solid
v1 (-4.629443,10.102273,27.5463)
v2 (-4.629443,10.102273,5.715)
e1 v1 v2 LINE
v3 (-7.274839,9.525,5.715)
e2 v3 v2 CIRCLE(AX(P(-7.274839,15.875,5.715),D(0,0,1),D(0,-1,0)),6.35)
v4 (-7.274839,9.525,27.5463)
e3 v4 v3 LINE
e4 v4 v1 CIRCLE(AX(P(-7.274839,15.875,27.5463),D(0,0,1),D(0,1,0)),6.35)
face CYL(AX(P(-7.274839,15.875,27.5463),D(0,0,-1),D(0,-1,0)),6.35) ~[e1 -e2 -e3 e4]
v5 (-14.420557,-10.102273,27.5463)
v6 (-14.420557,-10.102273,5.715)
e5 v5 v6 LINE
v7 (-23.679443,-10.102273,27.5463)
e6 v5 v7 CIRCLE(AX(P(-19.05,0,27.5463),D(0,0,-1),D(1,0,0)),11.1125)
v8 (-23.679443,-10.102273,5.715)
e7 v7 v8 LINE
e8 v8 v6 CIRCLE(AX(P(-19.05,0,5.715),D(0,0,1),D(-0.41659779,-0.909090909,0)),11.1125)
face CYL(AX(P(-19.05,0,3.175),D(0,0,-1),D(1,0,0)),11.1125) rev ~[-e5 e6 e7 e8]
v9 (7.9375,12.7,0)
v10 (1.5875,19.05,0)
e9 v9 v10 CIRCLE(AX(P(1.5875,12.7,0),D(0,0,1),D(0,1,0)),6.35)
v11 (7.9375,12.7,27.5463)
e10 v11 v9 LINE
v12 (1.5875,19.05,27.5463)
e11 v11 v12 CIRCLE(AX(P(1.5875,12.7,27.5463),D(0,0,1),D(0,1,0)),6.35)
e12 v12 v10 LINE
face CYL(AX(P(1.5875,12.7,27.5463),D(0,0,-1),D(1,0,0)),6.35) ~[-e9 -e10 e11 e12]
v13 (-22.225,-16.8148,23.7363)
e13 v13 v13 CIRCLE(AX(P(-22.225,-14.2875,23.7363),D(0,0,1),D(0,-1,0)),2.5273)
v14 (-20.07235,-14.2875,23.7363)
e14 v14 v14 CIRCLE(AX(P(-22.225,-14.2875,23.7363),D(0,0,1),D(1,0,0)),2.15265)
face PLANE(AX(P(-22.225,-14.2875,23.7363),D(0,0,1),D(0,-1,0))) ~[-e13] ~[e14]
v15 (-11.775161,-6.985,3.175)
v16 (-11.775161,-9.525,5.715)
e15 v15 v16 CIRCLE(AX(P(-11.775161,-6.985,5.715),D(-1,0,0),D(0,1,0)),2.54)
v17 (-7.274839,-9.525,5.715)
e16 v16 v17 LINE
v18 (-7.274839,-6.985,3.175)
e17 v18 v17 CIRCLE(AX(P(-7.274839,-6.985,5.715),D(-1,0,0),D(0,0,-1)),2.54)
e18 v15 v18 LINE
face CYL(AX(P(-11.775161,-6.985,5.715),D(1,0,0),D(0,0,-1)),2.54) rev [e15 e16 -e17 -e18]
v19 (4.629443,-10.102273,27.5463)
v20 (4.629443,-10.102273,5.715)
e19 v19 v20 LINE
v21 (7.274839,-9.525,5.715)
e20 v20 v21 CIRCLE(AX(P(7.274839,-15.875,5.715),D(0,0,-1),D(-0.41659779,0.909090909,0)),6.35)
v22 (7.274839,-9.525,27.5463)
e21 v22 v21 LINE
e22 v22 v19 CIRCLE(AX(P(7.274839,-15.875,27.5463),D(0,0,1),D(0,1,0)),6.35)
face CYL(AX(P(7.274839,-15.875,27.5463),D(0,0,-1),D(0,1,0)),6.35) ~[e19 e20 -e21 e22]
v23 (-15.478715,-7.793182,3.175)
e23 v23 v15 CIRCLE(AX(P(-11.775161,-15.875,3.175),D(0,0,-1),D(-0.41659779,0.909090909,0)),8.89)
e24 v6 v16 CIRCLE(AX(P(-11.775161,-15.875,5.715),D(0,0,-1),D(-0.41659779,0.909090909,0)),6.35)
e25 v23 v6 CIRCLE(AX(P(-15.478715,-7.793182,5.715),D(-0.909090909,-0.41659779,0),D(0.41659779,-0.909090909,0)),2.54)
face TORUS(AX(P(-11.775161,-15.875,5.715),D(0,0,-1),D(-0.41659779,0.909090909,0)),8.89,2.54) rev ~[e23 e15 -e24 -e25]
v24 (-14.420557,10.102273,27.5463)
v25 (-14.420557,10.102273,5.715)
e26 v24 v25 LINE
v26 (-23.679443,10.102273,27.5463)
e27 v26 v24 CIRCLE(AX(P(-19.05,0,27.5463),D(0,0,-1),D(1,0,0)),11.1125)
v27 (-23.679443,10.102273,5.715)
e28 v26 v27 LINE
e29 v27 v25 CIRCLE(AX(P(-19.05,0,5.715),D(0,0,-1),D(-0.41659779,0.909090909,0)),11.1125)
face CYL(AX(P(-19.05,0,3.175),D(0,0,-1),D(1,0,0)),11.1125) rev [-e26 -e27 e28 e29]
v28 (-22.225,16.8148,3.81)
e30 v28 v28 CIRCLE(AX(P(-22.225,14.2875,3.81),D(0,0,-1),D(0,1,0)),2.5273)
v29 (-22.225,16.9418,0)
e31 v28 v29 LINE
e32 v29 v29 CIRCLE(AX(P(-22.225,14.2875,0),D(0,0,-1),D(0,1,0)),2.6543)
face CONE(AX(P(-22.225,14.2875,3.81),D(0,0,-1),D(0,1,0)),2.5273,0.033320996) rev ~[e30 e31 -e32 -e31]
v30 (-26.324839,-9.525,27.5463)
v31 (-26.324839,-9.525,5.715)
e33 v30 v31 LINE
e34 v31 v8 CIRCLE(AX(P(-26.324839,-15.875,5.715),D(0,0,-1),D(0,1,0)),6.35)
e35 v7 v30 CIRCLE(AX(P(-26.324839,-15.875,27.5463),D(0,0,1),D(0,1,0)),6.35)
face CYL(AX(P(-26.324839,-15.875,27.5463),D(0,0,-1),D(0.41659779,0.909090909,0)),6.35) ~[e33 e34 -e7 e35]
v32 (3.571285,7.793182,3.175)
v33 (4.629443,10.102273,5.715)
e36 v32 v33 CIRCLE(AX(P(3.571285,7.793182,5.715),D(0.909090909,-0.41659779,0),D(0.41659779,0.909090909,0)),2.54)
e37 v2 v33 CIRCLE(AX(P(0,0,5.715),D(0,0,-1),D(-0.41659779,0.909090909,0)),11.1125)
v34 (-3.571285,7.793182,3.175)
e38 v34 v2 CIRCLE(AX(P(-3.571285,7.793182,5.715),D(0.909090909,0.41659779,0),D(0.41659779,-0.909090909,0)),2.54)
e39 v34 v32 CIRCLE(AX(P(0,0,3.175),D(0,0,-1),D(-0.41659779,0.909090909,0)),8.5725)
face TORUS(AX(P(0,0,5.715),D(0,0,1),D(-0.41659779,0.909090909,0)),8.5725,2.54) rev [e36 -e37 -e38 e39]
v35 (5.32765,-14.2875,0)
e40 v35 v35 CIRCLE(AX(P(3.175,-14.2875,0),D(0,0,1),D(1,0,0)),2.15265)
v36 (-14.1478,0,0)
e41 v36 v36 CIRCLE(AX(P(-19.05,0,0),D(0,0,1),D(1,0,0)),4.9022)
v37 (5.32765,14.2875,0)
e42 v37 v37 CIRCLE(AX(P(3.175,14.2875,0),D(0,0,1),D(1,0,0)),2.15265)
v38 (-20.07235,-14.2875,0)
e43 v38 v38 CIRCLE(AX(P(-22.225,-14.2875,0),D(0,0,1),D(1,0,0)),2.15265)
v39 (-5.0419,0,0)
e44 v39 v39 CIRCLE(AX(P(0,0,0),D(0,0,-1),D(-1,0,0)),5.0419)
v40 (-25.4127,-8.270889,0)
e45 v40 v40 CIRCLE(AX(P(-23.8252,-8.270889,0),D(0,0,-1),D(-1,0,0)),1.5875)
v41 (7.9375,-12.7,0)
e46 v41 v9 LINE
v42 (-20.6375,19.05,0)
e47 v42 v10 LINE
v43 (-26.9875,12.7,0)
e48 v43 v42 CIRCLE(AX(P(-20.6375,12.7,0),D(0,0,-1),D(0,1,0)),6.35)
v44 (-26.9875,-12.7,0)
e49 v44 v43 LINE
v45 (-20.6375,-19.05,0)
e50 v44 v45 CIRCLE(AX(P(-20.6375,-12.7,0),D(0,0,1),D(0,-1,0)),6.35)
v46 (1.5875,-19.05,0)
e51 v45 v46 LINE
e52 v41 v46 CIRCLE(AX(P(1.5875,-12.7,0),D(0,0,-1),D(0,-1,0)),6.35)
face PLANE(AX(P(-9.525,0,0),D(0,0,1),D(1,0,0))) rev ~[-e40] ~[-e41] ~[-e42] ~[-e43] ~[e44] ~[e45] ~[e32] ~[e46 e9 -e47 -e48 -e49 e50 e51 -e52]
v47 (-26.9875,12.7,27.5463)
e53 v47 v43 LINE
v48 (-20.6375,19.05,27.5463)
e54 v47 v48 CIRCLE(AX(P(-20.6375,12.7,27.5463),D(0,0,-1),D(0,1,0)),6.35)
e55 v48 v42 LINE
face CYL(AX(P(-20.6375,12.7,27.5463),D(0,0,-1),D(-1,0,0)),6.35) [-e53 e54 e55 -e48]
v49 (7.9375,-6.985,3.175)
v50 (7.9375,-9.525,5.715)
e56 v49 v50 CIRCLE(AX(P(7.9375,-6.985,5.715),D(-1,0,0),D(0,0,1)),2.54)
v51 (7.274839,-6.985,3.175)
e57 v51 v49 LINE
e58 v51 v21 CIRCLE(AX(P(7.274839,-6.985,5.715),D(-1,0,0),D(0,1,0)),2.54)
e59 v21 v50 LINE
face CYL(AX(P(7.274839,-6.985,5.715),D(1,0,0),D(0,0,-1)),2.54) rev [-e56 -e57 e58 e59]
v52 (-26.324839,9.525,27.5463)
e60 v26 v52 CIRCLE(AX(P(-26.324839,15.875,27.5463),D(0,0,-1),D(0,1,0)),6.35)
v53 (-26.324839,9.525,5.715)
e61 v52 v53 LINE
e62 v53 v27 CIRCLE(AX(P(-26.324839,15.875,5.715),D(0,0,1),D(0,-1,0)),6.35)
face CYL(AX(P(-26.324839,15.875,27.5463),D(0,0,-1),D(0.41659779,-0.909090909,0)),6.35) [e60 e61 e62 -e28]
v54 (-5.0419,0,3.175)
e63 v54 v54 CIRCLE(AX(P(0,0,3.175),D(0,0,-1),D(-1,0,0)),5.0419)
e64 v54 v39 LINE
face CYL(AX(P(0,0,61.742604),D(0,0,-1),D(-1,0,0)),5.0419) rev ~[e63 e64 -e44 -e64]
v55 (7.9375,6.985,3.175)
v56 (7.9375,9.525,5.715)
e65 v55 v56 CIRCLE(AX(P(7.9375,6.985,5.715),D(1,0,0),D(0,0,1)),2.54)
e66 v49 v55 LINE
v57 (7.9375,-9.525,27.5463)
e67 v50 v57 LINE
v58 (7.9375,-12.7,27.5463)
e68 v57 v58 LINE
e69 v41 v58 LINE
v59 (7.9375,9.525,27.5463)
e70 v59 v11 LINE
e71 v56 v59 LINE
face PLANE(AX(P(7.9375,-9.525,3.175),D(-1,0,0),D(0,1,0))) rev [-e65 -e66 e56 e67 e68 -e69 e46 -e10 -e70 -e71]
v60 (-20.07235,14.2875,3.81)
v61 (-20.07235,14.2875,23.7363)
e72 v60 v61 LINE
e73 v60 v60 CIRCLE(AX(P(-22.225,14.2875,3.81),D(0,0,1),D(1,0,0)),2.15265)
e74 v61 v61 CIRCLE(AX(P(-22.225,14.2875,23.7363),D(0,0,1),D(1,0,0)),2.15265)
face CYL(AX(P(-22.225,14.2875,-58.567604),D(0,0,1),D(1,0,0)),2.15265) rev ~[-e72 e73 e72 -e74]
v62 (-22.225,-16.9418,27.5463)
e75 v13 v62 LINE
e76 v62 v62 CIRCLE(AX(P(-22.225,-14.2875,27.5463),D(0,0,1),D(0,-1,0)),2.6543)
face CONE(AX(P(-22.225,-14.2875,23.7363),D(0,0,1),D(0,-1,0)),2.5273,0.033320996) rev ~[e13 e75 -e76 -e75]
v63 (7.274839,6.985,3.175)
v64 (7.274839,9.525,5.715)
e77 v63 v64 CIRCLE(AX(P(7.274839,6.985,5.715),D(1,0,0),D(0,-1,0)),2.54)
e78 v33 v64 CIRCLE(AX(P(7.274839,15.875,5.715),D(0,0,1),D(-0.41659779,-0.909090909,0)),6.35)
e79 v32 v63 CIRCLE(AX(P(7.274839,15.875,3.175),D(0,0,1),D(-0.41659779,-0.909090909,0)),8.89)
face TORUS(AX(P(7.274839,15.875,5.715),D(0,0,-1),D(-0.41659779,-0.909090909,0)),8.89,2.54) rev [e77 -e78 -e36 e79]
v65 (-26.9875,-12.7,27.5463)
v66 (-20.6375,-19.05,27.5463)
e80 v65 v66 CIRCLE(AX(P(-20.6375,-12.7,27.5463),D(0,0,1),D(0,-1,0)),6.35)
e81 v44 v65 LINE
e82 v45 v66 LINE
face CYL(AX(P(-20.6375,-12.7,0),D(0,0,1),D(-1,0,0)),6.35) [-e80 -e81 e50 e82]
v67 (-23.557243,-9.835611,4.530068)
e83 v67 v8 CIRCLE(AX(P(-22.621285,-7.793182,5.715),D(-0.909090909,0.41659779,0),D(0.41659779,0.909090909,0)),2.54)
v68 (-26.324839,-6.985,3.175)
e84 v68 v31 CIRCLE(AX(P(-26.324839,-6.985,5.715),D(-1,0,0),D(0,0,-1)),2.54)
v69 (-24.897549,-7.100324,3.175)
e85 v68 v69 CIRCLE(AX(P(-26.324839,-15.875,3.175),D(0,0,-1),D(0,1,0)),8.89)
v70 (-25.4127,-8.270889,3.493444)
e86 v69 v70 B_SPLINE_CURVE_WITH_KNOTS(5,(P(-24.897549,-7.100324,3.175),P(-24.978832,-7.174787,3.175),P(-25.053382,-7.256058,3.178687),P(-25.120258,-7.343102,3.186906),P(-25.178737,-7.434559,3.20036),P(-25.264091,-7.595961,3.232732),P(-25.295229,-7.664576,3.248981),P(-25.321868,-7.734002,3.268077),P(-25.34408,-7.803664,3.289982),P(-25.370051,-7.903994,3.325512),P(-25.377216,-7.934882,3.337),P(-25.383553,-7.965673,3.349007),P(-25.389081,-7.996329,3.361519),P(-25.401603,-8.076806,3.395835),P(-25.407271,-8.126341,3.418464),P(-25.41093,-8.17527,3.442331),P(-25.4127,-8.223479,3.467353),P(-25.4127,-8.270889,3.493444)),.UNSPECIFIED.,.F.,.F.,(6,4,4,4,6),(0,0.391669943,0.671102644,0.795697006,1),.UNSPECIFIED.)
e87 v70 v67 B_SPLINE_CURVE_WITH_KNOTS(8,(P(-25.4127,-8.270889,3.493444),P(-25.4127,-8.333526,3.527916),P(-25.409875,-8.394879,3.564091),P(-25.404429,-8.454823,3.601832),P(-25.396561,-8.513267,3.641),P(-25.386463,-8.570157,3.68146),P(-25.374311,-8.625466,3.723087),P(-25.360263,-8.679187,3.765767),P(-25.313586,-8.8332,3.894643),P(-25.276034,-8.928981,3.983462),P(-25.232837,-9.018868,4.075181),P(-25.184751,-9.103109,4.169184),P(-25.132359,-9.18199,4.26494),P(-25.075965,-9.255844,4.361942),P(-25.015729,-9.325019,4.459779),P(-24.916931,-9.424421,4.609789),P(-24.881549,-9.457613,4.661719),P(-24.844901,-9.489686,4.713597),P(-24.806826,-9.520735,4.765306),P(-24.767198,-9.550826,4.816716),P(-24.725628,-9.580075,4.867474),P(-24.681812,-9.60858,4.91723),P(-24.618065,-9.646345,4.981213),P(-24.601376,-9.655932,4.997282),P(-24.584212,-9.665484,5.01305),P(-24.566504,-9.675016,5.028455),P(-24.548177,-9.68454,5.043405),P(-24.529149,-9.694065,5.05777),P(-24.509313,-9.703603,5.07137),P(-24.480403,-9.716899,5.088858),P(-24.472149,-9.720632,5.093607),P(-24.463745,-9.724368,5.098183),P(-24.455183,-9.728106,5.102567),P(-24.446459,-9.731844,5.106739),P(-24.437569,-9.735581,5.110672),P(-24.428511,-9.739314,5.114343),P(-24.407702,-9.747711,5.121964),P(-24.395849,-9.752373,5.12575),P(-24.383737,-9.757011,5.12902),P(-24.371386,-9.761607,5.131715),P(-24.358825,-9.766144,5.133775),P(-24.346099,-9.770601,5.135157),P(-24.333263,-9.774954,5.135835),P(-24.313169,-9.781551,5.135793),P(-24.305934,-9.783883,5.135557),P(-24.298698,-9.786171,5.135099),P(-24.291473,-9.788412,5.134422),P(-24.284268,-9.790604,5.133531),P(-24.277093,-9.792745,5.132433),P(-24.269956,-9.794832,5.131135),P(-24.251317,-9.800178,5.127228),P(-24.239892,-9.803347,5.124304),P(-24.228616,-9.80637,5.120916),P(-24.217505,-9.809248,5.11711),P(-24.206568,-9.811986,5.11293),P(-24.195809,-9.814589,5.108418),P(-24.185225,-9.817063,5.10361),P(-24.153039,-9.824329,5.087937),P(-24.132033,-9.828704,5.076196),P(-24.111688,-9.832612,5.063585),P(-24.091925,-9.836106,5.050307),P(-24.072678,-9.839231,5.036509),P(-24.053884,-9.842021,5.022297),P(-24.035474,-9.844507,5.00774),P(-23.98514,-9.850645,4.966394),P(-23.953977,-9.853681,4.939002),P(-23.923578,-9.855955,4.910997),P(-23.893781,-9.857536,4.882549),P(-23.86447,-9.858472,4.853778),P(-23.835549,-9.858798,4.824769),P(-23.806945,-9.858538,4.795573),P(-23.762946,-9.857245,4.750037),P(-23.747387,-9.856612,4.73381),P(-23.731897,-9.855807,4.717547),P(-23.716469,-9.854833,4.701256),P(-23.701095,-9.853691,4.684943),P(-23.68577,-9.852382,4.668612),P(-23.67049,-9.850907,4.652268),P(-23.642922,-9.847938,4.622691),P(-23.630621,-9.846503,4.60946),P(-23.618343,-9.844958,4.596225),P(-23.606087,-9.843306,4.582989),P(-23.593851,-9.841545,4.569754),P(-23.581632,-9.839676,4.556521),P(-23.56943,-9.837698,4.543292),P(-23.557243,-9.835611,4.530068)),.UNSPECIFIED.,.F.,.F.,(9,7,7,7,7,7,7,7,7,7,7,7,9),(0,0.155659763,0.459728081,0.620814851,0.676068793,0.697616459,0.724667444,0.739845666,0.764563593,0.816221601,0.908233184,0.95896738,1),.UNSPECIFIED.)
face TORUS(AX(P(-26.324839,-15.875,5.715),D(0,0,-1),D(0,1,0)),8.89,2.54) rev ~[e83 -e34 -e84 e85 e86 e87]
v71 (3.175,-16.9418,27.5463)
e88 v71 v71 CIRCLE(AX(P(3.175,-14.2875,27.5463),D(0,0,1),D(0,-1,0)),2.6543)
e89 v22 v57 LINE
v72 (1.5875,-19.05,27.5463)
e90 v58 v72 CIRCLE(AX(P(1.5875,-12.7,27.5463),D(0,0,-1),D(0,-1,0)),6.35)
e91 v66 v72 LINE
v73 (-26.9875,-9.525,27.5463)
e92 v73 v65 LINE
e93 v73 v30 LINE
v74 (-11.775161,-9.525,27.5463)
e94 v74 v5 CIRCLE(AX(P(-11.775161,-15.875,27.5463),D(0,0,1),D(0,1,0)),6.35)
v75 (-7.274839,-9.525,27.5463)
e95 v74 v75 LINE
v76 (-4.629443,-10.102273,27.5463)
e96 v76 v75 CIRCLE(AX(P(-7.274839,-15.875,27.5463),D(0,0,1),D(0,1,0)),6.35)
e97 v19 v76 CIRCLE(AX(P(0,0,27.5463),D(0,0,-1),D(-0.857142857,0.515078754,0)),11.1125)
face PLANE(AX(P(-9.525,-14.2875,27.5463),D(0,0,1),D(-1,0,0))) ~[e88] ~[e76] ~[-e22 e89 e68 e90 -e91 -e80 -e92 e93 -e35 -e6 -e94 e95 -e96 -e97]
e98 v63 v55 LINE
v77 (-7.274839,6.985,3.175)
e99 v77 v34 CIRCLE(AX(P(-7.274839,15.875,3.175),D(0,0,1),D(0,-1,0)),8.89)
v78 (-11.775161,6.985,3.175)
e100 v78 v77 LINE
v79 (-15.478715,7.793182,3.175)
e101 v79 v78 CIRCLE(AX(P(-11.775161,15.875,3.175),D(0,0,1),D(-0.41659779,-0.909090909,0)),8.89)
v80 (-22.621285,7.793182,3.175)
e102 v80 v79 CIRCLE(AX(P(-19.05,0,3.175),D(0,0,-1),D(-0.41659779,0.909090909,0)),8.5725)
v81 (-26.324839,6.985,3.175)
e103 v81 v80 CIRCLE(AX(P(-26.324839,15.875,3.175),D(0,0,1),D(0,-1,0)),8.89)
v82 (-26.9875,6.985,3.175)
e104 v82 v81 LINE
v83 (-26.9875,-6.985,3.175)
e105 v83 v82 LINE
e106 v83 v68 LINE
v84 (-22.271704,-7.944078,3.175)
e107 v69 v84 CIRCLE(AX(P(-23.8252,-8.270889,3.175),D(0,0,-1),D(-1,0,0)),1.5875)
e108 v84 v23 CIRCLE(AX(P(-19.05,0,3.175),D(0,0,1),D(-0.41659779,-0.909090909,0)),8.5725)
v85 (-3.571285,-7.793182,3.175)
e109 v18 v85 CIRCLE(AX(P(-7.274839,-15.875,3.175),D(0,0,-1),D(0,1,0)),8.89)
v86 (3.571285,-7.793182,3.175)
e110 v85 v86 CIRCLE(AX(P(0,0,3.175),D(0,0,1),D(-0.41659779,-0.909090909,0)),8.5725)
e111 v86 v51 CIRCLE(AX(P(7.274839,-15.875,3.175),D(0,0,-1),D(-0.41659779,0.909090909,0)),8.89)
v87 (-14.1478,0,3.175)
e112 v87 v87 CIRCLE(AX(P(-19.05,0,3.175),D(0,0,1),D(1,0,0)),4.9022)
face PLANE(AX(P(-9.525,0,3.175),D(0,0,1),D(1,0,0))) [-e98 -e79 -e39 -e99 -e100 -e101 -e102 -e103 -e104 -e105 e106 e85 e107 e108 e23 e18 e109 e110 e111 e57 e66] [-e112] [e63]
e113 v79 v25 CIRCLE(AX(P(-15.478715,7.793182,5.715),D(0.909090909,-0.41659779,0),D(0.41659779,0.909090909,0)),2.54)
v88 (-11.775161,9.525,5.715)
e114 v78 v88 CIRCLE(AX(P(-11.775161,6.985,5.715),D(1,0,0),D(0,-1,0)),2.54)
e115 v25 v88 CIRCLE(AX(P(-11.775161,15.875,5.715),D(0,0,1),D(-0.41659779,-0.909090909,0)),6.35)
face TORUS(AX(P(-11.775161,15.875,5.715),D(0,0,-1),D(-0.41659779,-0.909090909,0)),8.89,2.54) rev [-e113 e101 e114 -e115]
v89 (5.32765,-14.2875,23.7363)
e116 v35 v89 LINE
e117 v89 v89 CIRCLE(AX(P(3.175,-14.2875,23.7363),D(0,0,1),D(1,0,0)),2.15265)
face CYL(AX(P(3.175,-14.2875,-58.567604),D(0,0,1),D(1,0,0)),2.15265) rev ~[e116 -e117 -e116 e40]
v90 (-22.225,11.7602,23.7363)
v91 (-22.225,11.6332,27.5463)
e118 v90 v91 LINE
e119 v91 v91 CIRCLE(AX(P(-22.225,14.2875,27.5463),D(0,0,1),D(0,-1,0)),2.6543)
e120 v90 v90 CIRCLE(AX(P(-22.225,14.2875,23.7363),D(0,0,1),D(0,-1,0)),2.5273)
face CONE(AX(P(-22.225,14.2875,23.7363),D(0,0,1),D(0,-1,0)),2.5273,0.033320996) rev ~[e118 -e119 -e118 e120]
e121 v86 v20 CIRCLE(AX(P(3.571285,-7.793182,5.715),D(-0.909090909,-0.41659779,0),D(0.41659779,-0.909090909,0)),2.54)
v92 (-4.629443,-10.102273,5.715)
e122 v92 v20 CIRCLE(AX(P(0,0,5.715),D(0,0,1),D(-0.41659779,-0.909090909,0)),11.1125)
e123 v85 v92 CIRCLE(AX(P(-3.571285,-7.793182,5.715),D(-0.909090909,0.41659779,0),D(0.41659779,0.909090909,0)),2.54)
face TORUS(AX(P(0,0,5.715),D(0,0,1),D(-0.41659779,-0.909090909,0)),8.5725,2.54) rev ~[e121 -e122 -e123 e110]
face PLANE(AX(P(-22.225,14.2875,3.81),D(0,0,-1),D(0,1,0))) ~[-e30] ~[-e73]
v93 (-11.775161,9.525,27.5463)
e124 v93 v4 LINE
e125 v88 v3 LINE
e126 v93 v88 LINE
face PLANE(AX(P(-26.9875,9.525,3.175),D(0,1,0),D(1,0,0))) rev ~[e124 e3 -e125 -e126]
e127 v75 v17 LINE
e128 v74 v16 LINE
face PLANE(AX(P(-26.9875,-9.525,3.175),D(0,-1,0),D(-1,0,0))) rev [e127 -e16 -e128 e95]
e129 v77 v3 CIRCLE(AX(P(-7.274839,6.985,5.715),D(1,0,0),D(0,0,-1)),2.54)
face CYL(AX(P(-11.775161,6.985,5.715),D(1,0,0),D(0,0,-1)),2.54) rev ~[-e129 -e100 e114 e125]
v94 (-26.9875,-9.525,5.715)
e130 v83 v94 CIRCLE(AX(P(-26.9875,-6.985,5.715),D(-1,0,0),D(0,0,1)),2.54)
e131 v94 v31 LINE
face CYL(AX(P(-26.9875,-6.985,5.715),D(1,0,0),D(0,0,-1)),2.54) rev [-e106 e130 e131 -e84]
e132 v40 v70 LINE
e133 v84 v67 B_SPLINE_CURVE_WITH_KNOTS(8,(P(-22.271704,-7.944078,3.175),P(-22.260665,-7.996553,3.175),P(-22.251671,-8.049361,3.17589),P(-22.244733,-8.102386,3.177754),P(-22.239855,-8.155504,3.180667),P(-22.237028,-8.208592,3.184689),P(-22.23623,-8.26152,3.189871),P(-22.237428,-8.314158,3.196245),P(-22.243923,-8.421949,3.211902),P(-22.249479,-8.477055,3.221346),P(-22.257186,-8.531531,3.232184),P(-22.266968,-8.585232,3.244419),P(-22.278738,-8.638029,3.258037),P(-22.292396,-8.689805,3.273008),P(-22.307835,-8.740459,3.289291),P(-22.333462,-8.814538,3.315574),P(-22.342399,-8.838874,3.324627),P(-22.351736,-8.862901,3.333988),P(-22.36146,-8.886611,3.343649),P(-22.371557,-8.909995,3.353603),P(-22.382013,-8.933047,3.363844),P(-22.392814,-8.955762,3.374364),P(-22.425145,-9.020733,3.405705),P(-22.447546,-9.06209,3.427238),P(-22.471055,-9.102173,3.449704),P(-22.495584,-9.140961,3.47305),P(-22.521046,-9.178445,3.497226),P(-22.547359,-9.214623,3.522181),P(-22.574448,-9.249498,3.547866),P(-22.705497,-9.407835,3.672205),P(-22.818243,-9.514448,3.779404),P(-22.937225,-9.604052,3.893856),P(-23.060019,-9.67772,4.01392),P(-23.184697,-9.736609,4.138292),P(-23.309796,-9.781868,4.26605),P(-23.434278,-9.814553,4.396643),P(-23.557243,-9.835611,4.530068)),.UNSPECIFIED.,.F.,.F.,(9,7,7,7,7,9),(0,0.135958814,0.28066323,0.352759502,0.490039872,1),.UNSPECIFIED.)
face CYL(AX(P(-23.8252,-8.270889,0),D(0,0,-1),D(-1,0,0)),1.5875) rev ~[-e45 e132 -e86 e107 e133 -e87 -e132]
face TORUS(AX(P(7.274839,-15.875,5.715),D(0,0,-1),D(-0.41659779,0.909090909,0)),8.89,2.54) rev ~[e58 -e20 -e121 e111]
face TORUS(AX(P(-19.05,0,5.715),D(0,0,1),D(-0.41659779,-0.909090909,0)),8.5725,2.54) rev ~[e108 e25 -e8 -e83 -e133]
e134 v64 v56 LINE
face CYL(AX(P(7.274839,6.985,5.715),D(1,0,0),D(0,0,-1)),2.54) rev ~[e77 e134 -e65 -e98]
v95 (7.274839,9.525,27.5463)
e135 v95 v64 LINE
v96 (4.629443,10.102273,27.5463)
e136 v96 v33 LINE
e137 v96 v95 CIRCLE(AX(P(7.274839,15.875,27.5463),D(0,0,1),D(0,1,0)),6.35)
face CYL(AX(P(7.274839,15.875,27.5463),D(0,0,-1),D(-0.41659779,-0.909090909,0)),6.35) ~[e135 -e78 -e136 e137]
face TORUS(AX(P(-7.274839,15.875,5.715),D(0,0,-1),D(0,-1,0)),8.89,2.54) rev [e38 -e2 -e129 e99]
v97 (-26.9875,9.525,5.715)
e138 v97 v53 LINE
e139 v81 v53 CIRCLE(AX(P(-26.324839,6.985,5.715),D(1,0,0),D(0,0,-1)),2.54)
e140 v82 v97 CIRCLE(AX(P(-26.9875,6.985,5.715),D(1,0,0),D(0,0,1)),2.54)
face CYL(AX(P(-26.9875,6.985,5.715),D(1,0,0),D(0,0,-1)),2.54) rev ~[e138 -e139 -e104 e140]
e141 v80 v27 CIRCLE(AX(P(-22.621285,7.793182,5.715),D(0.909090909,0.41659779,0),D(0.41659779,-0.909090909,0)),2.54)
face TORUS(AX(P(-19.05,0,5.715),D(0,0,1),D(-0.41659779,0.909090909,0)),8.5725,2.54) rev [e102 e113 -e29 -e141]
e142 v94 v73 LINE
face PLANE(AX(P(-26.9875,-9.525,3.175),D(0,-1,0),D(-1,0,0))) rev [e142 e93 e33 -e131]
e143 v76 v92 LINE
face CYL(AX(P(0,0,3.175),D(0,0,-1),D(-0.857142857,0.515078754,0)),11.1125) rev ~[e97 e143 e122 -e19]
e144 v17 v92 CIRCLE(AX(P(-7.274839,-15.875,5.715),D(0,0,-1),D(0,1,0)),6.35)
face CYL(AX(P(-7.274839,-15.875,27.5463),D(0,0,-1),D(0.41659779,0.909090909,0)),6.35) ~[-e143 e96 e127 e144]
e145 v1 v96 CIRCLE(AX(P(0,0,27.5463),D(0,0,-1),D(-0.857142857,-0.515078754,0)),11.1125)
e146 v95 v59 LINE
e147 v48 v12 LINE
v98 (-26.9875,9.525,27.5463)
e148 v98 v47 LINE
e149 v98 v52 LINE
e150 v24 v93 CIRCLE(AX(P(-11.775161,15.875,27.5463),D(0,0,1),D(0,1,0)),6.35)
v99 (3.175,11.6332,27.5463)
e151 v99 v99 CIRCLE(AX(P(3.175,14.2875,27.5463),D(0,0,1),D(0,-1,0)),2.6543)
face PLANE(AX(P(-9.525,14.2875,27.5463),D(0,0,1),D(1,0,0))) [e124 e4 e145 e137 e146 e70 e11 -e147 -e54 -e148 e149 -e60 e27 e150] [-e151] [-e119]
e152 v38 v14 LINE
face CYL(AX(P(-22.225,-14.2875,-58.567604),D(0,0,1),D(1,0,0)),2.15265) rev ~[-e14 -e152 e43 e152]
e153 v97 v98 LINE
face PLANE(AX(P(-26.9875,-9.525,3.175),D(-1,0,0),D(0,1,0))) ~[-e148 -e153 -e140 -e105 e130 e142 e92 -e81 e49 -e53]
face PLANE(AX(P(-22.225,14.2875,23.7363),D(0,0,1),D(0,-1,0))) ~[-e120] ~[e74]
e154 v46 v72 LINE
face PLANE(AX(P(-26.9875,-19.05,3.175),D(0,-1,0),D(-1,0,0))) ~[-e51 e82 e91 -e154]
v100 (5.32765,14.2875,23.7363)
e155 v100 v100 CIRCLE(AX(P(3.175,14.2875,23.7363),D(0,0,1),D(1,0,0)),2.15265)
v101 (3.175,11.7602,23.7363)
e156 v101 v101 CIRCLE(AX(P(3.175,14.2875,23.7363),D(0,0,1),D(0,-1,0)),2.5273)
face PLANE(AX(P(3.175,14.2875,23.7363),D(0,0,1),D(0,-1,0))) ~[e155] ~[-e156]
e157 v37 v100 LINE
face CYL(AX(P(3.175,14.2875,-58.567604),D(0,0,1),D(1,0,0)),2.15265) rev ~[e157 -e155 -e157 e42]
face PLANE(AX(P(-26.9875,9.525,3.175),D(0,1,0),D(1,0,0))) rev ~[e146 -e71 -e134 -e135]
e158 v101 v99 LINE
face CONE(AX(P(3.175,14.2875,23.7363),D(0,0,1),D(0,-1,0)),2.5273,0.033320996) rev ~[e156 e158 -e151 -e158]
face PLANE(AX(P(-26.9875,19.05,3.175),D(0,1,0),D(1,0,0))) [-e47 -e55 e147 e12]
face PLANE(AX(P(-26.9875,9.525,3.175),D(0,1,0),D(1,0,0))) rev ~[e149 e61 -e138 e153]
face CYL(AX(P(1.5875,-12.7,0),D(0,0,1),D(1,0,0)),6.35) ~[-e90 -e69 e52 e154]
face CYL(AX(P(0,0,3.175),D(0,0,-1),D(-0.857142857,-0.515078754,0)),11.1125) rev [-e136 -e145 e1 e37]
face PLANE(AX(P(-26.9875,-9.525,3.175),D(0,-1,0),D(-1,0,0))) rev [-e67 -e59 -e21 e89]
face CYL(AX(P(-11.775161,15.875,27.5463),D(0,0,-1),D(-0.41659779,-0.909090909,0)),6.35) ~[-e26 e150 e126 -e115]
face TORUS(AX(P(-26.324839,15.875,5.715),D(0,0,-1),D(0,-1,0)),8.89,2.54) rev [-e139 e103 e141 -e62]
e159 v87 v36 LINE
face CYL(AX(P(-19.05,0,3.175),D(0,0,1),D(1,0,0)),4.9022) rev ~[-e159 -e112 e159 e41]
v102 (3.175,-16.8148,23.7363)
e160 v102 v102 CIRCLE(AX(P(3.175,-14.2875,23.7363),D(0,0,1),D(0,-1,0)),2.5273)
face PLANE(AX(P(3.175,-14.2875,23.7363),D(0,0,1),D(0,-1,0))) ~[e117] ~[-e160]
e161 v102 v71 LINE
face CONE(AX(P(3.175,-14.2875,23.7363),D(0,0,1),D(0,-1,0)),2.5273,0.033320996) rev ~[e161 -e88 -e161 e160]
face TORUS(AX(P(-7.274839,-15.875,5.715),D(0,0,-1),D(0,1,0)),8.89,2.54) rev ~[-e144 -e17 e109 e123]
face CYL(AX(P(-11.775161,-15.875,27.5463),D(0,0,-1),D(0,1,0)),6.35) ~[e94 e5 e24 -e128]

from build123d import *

# Parameters (mm, degrees)
SKETCH1_W               = 34.925
SKETCH1_H               = 38.1
BOSS_EXTRUDE1_DEPTH     = 3.175
SKETCH2_W               = 34.925
SKETCH2_H               = 9.525
BOSS_EXTRUDE2_DEPTH     = 24.3713
CUT_EXTRUDE1_START      = -16.4338
SKETCH3_R               = 11.1125
CUT_EXTRUDE1_DEPTH      = 25.3713
FILLET1_R               = 6.35
FILLET2_R               = 2.54
SKETCH4_R               = 4.9022
CUT_EXTRUDE2_DEPTH      = 4.175
F_3_8_CLEARANCE_HOLE1_D = 10.0838
F_6_CLEARANCE_HOLE1_D   = 4.3053
HOLE1_AT_2_COUNT        = 2
HOLE1_AT_2_PITCH        = 25.4
HOLE1_AT_3_COUNT        = 2
HOLE1_AT_3_PITCH        = 28.575
HOLE1_AT_4_COUNT        = 2
HOLE1_AT_4_PITCH        = 38.232062788
CUT_EXTRUDE3_REACH      = 29.546
SKETCH11_R              = 1.5875


with BuildPart() as part:
    # Sketch1 → Boss-Extrude1 (new body)
    with BuildSketch(Plane.XY):
        with Locations((-9.525, 0)):
            Rectangle(SKETCH1_W, SKETCH1_H)
    extrude(amount=BOSS_EXTRUDE1_DEPTH)

    # Sketch2 → Boss-Extrude2 (add)
    with BuildSketch(Plane.XY.offset(3.175)):
        with Locations((-9.525, 14.2875)):
            Rectangle(SKETCH2_W, SKETCH2_H)
    boss_extrude2 = extrude(amount=BOSS_EXTRUDE2_DEPTH)

    # Sketch3 → Cut-Extrude1 (cut)
    with BuildSketch(Plane.XY.offset(19.6088).offset(CUT_EXTRUDE1_START)):
        Circle(SKETCH3_R)
        with Locations((-19.05, 0)):
            Circle(SKETCH3_R)
    cut_extrude1 = extrude(amount=CUT_EXTRUDE1_DEPTH, mode=Mode.SUBTRACT)

    # Mirror1: Boss-Extrude2, Cut-Extrude1 across plane
    add(boss_extrude2.mirror(Plane.ZX))
    add(cut_extrude1.mirror(Plane.ZX), mode=Mode.SUBTRACT)

    # Fillet1
    fillet1_edges = [part.edges().sort_by_distance(p)[0] for p in [
        (7.9375, 19.05, 13.77315),
        (-26.9875, 19.05, 13.77315),
        (5.72381265, 9.525, 15.36065),
        (-5.72381265, 9.525, 15.36065),
        (-13.32618735, 9.525, 15.36065),
        (-24.77381265, 9.525, 15.36065),
        (7.9375, -19.05, 13.77315),
        (-26.9875, -19.05, 13.77315),
        (5.72381265, -9.525, 15.36065),
        (-5.72381265, -9.525, 15.36065),
        (-13.32618735, -9.525, 15.36065),
        (-24.77381265, -9.525, 15.36065),
    ]]
    fillet(fillet1_edges, radius=FILLET1_R)

    # Fillet2
    fillet2_edges = [part.edges().sort_by_distance(p)[0] for p in [
        (7.606169458, 9.525, 3.175),
        (5.921014367, 9.670996527, 3.175),
        (0, 11.1125, 3.175),
        (-5.921014367, 9.670996527, 3.175),
        (-9.525, 9.525, 3.175),
        (-13.128985633, 9.670996527, 3.175),
        (-19.05, 11.1125, 3.175),
        (-24.971014367, 9.670996527, 3.175),
        (-26.656169458, 9.525, 3.175),
        (7.606169458, -9.525, 3.175),
        (5.921014367, -9.670996527, 3.175),
        (0, -11.1125, 3.175),
        (-5.921014367, -9.670996527, 3.175),
        (-9.525, -9.525, 3.175),
        (-13.128985633, -9.670996527, 3.175),
        (-19.05, -11.1125, 3.175),
        (-24.971014367, -9.670996527, 3.175),
        (-26.656169458, -9.525, 3.175),
    ]]
    fillet(fillet2_edges, radius=FILLET2_R)

    # Sketch4 → Cut-Extrude2 (cut, through all)
    with BuildSketch(Plane.XY.offset(3.175)):
        with Locations((-19.05, 0)):
            Circle(SKETCH4_R)
    extrude(amount=-CUT_EXTRUDE2_DEPTH, mode=Mode.SUBTRACT)

    # 3/8 Clearance Hole1 (through all)
    with Locations(Plane.XY.offset(3.175)):
        with Locations((0, 0)):
            Hole(F_3_8_CLEARANCE_HOLE1_D / 2)

    # #6 Clearance Hole1 (through all)
    with Locations(Plane(origin=(0, 0, 0), x_dir=(-1, 0, 0), z_dir=(0, 0, -1))):
        with Locations((-3.175, 14.2875), (22.225, 14.2875), (22.225, -14.2875), (-3.175, -14.2875)):
            Hole(F_6_CLEARANCE_HOLE1_D / 2)

    # Sketch9 → Hole1 (revolve, cut)
    with BuildSketch(Plane(origin=(-22.225, 14.2875, 27.5463), x_dir=(0, -1, 0), z_dir=(1, 0, 0))):
        Polygon((0, 0), (0, 3.81), (2.5273, 3.81), (2.6543, 0), align=None)
    hole1 = revolve(axis=Axis((-22.225, 14.2875, -82.4537), (0, 0, 1)), mode=Mode.SUBTRACT)

    # Hole1 at 2: Hole1 ×2
    with Locations(*[(i * HOLE1_AT_2_PITCH, 0, 0) for i in range(1, HOLE1_AT_2_COUNT)]):
        add(hole1, mode=Mode.SUBTRACT)

    # Hole1 at 3: Hole1 ×2
    with Locations(*[(0, -i * HOLE1_AT_3_PITCH, 0) for i in range(1, HOLE1_AT_3_COUNT)]):
        add(hole1, mode=Mode.SUBTRACT)

    # Hole1 at 4: Hole1 ×2
    with Locations(*[Vector(0.664363839, -0.747409319, 0) * (i * HOLE1_AT_4_PITCH) for i in range(1, HOLE1_AT_4_COUNT)]):
        add(hole1, mode=Mode.SUBTRACT)

    # Sketch11 → Cut-Extrude3 (cut, up to next)
    with BuildSketch(Plane(origin=(0, 0, 0), x_dir=(-1, 0, 0), z_dir=(0, 0, -1)), mode=Mode.PRIVATE) as cut_extrude3_sk1:
        with Locations((23.8252, -8.270889016)):
            Circle(SKETCH11_R)
    cut_extrude3_tool1 = extrude(cut_extrude3_sk1.sketch, amount=-CUT_EXTRUDE3_REACH, mode=Mode.PRIVATE) & part.part
    add(cut_extrude3_tool1.solids().sort_by_distance((-23.8252, -8.270889, 0))[0], mode=Mode.SUBTRACT)

    # Sketch12 → Hole2 (revolve, cut)
    with BuildSketch(Plane(origin=(-22.225, 14.2875, 0), x_dir=(0, 1, 0), z_dir=(1, 0, 0))):
        Polygon((0, 0), (0, 3.81), (2.5273, 3.81), (2.6543, 0), align=None)
    revolve(axis=Axis((-22.225, 14.2875, 110), (0, 0, -1)), mode=Mode.SUBTRACT)


solid = part.part
